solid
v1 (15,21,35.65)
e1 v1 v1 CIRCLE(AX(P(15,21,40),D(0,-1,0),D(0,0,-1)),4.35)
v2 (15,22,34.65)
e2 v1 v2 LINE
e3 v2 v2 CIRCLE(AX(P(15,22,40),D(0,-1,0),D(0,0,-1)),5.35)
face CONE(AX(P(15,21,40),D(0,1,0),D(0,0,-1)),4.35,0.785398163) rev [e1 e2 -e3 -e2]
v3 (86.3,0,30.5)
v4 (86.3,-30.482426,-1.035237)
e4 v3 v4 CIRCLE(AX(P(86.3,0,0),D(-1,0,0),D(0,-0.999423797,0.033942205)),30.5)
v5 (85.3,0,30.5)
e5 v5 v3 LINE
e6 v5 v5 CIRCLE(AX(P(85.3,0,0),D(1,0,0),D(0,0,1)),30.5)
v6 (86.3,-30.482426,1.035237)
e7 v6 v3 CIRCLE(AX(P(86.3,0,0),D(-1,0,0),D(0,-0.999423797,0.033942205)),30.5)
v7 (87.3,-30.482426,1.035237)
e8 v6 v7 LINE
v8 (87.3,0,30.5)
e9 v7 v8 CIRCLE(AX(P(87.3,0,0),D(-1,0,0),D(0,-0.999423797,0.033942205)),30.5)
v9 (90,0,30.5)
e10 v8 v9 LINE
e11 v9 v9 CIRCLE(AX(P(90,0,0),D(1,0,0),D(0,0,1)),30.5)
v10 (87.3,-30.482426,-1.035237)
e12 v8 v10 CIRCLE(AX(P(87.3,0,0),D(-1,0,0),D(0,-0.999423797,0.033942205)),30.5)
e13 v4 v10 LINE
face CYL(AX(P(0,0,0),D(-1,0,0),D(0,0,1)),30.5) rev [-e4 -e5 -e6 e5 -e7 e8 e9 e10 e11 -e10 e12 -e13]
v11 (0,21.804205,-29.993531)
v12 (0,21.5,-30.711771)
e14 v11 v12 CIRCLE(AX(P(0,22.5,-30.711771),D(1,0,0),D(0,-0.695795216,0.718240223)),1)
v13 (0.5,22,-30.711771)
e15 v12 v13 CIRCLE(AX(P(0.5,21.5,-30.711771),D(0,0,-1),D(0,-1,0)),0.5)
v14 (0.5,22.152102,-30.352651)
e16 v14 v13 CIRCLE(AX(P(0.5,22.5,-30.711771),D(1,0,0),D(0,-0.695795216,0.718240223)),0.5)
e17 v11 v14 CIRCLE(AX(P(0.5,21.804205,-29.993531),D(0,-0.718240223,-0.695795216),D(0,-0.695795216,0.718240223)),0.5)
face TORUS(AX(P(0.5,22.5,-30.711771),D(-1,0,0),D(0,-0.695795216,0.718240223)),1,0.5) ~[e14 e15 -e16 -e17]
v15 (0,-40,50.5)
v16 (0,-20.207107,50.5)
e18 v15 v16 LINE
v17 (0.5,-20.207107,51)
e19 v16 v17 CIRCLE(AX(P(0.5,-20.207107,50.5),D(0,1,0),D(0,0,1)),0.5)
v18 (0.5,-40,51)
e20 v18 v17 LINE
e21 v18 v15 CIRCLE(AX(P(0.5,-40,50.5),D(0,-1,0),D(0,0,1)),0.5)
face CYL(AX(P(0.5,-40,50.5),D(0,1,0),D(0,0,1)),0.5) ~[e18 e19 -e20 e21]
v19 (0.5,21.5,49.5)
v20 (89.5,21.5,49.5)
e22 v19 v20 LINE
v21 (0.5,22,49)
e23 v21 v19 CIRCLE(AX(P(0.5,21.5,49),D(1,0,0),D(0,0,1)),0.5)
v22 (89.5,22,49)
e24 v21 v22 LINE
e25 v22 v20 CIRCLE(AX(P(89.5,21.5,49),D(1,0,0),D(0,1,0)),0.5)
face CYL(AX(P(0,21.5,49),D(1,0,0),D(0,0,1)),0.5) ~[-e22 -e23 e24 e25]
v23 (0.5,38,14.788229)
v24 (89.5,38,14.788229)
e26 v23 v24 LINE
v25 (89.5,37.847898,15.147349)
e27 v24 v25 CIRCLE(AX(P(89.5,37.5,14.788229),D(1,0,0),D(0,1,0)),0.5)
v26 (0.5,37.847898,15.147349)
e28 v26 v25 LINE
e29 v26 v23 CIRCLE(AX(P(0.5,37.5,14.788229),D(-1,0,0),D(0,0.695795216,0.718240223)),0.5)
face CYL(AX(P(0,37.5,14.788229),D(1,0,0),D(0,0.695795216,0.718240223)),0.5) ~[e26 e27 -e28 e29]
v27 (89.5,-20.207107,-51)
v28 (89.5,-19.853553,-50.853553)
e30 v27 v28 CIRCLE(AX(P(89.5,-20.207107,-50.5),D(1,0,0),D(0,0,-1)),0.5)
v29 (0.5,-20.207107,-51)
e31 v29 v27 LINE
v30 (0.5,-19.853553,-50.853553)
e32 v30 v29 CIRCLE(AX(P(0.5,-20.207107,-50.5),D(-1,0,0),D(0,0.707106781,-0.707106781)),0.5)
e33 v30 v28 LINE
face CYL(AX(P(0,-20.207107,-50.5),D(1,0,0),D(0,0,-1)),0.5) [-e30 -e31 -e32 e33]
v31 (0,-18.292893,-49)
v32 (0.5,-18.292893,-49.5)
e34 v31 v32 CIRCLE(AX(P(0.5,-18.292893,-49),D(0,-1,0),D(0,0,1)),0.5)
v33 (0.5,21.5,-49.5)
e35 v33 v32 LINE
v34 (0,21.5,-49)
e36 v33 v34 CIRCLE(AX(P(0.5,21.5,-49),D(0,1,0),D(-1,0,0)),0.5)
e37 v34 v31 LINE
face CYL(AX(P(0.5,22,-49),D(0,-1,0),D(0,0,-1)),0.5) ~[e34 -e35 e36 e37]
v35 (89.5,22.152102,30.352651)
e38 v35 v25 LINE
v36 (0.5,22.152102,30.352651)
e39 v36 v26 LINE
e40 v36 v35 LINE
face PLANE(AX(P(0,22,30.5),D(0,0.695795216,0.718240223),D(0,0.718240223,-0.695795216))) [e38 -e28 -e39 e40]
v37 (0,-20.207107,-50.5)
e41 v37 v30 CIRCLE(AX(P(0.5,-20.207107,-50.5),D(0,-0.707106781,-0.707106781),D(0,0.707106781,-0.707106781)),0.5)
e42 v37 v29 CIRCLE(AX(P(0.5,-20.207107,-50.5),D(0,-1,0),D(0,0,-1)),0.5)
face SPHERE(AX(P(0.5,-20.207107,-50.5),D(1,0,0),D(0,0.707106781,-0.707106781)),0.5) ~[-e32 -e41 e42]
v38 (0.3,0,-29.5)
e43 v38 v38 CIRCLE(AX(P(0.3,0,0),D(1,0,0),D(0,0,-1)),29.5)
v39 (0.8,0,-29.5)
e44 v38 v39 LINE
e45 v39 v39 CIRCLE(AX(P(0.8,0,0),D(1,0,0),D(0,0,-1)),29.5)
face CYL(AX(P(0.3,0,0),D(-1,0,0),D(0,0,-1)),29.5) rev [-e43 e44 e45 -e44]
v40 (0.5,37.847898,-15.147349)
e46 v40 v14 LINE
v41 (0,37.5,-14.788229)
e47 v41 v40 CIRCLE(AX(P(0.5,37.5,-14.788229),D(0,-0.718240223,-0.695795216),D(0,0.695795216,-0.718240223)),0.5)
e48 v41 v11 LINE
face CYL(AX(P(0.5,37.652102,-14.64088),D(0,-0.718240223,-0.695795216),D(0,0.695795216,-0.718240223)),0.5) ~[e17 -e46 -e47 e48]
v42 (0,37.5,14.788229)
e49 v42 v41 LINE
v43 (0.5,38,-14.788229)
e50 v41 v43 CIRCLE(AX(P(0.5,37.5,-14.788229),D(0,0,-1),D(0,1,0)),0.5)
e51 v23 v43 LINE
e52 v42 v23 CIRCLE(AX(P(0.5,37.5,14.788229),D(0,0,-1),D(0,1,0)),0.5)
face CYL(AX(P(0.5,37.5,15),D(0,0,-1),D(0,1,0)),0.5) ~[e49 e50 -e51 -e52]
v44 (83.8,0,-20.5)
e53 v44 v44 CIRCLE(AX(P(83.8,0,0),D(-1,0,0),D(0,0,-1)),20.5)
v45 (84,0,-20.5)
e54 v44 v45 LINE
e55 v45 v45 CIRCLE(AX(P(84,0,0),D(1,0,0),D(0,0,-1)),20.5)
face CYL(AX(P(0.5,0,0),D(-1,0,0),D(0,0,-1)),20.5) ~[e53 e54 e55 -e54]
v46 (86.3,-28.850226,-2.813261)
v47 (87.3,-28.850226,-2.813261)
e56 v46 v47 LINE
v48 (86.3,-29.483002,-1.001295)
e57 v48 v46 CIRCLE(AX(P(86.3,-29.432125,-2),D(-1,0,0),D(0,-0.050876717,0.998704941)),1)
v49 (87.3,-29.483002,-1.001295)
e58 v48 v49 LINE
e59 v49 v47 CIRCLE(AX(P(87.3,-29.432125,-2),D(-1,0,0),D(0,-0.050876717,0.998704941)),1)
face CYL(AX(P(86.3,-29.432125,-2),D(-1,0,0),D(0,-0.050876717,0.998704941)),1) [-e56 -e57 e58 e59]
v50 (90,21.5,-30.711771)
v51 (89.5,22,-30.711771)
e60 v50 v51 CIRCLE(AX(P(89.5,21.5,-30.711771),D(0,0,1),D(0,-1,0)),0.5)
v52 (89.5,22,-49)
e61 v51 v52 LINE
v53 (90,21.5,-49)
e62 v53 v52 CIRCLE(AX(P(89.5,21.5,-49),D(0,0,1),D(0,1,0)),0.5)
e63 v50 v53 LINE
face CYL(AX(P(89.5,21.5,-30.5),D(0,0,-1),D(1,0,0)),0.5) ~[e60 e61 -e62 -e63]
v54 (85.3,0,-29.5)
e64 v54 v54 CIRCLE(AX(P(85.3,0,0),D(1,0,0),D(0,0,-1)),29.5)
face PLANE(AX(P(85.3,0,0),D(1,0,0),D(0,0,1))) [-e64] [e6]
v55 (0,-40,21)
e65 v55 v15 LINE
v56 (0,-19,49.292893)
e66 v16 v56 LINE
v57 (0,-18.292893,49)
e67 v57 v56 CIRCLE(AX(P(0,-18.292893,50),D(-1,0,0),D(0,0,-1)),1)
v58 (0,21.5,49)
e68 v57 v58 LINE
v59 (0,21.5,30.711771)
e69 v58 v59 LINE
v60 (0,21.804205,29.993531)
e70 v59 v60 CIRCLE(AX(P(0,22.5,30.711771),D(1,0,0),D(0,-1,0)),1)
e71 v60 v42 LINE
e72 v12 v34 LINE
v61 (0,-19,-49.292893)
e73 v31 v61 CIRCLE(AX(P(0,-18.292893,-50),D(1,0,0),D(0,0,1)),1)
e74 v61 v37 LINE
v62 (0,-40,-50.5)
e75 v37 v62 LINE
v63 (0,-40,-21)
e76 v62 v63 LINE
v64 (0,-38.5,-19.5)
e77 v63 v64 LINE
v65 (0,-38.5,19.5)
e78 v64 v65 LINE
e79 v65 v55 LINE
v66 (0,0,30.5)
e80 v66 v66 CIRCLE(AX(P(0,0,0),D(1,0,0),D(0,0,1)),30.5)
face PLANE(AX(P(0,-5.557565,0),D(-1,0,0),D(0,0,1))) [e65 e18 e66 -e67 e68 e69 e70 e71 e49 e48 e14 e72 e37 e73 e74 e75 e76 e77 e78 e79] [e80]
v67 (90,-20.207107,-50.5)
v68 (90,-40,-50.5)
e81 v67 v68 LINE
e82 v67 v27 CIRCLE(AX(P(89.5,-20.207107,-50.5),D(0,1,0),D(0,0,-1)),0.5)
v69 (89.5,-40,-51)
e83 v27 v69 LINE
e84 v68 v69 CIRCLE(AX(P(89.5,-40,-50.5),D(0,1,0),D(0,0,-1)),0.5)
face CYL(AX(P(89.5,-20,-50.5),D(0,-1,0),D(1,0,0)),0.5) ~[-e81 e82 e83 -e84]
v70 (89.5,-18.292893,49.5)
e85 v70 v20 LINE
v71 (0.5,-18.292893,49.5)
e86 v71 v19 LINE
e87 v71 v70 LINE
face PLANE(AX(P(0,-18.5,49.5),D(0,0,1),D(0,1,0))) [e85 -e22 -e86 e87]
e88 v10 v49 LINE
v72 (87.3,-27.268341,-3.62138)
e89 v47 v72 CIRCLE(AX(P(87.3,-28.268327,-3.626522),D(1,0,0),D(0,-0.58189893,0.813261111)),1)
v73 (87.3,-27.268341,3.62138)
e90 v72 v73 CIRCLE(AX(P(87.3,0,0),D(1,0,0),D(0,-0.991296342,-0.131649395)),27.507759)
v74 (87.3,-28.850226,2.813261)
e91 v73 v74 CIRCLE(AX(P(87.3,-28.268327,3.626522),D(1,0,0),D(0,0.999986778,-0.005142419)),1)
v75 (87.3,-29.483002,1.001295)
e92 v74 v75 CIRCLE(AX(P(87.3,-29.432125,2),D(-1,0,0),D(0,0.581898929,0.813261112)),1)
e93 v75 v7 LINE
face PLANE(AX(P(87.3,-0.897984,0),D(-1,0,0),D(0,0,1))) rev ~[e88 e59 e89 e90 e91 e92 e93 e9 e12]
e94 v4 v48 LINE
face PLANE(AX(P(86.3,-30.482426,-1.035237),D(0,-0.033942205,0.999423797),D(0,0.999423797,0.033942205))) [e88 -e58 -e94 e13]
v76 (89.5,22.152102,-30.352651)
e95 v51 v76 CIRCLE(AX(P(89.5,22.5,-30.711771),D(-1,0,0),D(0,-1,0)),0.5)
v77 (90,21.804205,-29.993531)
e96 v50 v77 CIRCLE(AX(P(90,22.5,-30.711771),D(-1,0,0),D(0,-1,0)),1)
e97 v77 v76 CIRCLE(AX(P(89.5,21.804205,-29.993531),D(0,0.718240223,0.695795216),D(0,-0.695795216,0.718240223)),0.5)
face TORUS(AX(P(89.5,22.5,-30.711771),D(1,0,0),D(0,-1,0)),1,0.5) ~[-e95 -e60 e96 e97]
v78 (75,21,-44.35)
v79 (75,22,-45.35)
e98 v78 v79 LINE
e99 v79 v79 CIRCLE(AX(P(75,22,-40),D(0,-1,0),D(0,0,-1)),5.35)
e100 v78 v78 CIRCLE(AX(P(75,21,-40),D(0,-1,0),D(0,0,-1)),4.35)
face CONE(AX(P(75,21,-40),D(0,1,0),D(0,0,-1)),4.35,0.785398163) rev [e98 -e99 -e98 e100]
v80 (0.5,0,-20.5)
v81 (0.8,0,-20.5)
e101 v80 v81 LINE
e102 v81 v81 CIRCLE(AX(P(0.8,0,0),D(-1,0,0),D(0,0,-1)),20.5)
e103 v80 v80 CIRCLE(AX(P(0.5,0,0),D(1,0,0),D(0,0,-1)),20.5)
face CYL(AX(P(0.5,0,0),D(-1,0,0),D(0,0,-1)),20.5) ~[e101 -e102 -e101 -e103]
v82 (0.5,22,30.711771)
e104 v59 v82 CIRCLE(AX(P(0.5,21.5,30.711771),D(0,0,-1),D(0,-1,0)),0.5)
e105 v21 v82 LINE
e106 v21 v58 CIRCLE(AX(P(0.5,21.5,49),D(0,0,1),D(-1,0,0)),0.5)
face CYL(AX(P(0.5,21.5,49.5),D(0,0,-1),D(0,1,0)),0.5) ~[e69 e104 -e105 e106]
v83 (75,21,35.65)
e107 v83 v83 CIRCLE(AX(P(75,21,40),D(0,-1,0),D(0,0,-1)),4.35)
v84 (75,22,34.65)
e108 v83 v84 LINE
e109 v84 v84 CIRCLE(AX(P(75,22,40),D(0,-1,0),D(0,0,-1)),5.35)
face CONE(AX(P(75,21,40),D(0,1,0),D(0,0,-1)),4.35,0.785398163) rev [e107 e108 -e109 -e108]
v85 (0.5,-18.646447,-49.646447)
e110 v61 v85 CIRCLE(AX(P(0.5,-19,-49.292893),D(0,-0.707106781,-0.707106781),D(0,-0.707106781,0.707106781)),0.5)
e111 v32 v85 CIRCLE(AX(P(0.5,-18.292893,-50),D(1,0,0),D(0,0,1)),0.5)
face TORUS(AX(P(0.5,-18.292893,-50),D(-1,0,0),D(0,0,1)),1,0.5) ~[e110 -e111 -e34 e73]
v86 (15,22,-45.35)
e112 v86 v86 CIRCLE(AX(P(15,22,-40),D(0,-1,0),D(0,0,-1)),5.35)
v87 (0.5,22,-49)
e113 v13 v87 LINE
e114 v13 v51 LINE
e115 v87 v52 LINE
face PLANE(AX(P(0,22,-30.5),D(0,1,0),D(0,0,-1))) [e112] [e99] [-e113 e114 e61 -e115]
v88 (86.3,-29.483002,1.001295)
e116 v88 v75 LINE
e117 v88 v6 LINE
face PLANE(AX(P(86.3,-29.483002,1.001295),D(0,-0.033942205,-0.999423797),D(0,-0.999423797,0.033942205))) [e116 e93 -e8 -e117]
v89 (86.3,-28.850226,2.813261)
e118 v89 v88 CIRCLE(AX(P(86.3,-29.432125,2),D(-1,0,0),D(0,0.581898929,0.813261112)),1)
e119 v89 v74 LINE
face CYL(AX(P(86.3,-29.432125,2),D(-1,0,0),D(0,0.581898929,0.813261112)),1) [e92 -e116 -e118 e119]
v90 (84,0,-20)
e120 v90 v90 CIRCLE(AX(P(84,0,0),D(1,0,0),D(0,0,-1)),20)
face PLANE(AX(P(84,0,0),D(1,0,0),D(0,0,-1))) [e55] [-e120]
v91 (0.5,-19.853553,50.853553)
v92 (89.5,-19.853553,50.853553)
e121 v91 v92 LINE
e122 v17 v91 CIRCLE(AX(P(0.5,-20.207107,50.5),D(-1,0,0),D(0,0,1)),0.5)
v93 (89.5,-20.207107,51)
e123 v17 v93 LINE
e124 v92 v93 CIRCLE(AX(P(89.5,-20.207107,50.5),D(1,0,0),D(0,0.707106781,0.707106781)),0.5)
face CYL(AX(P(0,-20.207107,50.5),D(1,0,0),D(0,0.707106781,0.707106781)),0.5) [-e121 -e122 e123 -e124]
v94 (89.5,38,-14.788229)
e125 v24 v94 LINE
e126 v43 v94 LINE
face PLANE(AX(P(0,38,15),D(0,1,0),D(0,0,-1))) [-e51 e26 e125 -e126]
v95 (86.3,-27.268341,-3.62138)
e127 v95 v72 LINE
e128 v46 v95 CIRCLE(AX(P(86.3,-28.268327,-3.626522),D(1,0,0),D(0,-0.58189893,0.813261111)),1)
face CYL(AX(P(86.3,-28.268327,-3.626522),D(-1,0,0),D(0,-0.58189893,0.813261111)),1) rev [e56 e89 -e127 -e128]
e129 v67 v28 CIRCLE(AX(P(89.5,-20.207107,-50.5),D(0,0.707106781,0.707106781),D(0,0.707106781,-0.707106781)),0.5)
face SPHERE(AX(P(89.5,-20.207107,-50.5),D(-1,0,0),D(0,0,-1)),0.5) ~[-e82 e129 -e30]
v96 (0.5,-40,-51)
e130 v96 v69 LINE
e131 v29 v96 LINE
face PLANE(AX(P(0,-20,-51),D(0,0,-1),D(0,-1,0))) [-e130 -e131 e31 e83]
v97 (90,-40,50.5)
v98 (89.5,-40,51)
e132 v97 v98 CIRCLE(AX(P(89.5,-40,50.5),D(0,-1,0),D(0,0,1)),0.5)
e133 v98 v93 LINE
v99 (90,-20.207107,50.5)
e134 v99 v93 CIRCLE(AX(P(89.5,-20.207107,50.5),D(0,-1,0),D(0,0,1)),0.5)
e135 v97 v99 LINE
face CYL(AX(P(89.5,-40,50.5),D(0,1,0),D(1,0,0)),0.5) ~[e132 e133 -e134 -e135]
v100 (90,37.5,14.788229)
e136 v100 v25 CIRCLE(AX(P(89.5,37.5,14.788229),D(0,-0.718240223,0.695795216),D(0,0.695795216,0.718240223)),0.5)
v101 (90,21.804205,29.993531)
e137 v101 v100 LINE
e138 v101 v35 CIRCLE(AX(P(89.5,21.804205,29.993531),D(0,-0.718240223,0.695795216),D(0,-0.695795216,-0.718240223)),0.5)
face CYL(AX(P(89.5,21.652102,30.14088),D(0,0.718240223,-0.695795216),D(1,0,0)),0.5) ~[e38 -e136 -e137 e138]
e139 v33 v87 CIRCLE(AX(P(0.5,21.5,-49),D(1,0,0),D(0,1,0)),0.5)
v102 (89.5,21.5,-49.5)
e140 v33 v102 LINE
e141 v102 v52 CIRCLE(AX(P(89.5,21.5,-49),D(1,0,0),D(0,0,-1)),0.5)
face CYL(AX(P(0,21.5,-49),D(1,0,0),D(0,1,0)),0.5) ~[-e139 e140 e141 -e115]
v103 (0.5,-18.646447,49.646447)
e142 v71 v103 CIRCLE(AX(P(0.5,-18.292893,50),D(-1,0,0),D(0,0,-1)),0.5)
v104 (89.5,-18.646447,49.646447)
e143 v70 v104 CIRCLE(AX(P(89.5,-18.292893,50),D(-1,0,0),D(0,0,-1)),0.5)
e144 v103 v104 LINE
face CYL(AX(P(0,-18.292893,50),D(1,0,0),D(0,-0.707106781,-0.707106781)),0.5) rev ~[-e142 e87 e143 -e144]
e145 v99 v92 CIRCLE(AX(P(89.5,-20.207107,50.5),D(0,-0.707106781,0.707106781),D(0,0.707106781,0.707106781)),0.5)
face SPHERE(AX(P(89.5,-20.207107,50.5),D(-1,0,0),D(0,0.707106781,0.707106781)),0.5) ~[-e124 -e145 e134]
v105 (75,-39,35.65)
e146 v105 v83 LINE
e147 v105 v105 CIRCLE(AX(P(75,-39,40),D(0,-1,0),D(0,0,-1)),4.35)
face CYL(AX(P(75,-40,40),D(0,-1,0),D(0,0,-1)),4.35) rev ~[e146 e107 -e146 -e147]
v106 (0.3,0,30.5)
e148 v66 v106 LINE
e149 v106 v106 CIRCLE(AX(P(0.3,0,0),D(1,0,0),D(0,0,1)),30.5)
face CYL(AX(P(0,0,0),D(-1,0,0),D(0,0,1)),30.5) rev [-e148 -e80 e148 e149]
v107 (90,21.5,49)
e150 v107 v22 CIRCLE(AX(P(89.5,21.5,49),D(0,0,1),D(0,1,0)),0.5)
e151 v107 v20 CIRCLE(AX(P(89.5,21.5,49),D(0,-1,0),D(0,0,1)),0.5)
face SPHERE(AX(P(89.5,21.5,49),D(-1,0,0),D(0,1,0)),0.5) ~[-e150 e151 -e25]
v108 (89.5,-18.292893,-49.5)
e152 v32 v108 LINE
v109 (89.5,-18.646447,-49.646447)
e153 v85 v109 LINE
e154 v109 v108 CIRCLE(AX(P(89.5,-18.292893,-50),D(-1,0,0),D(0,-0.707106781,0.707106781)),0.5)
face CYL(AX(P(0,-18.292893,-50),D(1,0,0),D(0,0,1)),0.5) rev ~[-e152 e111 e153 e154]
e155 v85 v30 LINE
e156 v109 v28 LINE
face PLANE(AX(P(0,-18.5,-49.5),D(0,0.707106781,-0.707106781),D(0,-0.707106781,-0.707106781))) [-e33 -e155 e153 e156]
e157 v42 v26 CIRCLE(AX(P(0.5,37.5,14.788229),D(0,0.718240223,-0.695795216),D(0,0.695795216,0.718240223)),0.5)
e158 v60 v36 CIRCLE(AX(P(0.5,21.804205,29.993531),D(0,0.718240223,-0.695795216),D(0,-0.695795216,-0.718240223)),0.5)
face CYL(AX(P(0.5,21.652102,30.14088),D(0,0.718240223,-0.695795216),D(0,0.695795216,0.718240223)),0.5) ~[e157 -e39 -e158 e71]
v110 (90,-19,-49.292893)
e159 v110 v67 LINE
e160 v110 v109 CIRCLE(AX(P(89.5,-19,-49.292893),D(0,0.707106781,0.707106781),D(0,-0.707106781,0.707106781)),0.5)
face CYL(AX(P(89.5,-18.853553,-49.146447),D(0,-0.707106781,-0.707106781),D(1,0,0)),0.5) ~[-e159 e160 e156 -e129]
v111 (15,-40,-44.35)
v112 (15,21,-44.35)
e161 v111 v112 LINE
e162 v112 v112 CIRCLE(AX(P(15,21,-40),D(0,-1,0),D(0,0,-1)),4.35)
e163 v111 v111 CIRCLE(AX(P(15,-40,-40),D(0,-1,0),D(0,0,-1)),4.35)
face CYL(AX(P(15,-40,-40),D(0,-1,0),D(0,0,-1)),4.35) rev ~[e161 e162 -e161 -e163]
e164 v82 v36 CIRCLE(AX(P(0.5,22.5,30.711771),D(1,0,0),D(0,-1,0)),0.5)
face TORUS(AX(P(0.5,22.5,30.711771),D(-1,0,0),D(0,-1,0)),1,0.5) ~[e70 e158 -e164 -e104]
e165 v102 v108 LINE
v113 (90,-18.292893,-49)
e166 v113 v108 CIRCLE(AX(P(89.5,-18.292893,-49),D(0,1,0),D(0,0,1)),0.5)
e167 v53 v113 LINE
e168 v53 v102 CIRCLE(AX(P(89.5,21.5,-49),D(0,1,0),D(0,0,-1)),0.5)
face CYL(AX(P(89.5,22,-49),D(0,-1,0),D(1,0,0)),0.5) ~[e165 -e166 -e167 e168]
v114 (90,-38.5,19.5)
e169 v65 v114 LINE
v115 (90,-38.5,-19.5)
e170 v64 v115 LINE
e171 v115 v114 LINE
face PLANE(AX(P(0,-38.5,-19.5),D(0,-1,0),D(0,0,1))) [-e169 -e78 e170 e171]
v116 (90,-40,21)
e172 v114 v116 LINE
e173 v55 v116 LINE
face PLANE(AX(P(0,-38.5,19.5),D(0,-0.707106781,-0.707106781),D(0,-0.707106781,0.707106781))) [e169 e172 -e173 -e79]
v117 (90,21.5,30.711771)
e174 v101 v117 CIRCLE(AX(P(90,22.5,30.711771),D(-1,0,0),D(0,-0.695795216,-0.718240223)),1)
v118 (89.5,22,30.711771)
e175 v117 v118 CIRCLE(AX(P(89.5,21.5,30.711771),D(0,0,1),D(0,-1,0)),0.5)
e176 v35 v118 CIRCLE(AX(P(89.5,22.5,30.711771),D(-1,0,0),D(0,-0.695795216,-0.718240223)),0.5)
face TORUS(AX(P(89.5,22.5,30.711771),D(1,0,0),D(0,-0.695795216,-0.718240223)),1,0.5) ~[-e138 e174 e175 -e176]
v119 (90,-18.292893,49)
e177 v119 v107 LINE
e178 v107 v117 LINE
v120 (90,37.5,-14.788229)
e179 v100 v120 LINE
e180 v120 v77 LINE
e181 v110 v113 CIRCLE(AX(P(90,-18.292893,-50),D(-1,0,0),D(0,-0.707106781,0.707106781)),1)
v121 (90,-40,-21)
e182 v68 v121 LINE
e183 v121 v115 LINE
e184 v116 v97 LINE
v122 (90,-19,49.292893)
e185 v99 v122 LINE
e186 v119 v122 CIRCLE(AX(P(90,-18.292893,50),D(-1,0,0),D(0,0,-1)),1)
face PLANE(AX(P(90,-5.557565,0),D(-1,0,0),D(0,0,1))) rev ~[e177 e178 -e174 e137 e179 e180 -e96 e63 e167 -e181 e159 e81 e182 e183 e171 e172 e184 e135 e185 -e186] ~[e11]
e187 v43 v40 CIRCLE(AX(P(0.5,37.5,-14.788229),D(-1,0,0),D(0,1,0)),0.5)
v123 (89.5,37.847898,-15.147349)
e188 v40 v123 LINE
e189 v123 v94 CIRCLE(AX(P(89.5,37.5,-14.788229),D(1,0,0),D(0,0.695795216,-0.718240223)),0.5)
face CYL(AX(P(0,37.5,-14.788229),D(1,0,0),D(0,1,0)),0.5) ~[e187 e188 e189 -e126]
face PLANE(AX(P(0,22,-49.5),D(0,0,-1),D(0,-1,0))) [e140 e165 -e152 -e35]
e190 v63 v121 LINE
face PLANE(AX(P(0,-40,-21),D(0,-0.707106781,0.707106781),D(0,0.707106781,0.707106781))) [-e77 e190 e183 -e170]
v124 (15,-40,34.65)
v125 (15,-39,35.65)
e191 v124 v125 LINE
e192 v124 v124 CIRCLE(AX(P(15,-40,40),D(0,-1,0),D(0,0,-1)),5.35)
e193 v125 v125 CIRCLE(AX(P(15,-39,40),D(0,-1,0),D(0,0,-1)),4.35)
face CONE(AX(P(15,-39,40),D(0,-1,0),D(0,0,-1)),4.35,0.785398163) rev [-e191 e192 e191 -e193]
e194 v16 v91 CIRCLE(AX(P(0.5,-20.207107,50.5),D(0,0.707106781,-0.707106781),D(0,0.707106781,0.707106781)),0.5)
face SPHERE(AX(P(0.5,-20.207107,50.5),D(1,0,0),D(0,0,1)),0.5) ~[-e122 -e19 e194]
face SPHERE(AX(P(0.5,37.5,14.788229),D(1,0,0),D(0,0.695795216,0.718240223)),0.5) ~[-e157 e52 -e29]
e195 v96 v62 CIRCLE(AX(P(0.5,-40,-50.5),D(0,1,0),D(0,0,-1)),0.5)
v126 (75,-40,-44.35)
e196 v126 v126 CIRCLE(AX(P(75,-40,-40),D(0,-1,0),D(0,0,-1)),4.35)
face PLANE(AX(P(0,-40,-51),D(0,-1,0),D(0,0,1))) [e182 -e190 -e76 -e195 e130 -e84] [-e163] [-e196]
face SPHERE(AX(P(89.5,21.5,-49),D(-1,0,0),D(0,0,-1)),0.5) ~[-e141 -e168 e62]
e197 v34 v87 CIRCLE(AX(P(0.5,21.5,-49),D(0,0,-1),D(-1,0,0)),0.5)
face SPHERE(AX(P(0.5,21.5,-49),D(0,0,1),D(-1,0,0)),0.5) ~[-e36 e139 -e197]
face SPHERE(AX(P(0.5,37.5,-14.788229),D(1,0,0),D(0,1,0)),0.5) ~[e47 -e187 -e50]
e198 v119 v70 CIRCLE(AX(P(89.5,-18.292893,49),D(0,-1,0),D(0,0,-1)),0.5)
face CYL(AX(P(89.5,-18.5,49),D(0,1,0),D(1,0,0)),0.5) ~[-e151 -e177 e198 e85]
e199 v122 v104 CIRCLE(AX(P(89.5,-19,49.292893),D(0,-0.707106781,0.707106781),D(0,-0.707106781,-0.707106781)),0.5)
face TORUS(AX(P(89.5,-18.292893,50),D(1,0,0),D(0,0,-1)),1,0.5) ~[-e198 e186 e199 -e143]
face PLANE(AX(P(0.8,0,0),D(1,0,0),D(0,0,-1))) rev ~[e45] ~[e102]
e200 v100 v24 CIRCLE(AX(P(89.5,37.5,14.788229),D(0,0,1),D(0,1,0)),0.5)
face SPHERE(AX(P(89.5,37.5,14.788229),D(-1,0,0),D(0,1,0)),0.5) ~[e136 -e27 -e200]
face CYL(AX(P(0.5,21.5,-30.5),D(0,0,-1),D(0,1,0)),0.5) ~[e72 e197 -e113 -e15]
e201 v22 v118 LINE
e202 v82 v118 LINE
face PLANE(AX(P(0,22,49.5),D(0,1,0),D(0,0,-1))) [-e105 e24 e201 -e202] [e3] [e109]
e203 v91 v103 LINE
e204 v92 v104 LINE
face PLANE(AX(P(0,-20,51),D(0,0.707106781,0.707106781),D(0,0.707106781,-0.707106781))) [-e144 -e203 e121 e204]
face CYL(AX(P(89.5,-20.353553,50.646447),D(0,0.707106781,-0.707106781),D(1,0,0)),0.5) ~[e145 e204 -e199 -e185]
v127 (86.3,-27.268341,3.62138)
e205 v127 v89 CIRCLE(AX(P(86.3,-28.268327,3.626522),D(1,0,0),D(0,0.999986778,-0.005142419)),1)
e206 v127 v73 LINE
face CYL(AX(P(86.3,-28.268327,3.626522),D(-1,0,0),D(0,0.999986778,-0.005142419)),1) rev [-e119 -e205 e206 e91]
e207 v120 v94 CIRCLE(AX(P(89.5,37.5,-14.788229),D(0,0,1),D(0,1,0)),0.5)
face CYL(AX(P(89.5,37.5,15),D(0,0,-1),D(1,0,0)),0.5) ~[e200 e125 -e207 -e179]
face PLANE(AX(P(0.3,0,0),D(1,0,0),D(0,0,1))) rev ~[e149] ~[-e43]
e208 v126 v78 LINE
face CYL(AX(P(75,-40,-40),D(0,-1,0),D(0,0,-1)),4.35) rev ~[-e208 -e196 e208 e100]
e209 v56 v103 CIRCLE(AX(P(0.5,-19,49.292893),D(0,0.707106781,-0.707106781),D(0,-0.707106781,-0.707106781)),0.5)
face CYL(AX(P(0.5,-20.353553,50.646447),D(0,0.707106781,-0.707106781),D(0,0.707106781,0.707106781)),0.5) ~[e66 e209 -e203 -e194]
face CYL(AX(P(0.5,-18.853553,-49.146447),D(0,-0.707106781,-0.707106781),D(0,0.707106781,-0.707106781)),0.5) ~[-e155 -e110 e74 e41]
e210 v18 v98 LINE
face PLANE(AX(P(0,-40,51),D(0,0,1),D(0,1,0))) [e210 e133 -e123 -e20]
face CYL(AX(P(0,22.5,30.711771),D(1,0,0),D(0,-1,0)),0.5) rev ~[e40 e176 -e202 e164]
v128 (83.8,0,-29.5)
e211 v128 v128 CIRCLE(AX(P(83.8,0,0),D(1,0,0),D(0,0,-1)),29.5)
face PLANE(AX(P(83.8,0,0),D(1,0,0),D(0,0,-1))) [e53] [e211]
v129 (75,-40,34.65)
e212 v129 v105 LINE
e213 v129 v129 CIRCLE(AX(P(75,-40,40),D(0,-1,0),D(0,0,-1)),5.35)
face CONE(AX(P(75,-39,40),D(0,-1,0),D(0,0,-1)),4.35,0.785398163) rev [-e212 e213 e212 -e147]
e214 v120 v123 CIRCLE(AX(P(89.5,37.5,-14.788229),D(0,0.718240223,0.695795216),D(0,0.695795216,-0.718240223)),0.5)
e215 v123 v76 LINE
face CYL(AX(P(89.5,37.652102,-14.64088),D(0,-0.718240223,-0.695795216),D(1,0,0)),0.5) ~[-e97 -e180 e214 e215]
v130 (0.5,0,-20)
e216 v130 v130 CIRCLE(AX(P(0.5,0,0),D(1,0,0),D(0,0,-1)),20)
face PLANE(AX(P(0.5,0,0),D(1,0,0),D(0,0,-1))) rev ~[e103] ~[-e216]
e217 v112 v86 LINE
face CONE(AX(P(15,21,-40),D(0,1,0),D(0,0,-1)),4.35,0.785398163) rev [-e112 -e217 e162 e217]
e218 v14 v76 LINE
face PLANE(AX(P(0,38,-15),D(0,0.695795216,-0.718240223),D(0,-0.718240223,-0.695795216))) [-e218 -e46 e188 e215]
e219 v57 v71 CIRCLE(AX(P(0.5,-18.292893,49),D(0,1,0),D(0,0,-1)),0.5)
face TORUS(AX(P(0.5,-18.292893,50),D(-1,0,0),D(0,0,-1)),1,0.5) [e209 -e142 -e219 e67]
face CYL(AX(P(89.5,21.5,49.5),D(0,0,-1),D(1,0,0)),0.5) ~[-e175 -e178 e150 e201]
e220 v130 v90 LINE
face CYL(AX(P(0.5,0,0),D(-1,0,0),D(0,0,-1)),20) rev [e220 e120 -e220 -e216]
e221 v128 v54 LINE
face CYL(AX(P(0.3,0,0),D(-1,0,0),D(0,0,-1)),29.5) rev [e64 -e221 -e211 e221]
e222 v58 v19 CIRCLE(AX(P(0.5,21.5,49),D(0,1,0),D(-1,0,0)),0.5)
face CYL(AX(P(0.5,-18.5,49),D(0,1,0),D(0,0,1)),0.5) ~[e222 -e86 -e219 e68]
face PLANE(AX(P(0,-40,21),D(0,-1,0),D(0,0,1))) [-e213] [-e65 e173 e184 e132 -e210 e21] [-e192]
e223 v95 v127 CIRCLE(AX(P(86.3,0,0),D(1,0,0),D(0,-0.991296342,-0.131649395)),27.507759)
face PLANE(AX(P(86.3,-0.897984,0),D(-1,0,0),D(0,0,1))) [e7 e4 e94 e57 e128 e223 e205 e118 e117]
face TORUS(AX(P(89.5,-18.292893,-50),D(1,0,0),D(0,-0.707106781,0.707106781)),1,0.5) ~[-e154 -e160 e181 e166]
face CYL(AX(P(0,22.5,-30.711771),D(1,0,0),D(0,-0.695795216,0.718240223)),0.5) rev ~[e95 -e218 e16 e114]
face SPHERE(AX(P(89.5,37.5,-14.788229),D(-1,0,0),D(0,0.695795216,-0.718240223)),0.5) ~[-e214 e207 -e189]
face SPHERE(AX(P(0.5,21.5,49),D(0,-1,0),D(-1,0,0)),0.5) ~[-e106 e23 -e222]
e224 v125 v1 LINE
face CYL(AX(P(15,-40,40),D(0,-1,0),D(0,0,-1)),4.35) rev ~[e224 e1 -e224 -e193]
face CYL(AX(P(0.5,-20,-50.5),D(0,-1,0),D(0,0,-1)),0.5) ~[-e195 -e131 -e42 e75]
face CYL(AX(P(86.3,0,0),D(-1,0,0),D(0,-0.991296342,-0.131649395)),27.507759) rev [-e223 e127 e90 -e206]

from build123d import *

# Parameters (mm, degrees)
SKETCH1_R           = 30.5
BOSS_EXTRUDE1_DEPTH = 90
EXTRUDE_THIN1_START = 0.5
SKETCH1_4_R         = 20.5
SKETCH1_4_R_2       = 20
EXTRUDE_THIN1_DEPTH = 83.5
BOSS_EXTRUDE2_START = 0.8
SKETCH1_5_R         = 29.5
SKETCH1_5_R_2       = 20
BOSS_EXTRUDE2_DEPTH = 83
BOSS_EXTRUDE3_START = 0.3
SKETCH1_6_R         = 30.5
SKETCH1_6_R_2       = 29.5
BOSS_EXTRUDE3_DEPTH = 85
BOSS_EXTRUDE4_START = 1
BOSS_EXTRUDE4_DEPTH = 1
FILLET1_R           = 0.5
SKETCH4_R           = 4.35
CUT_EXTRUDE3_DEPTH  = 130.55693729
CHAMFER1_SIZE       = 1


with BuildPart() as part:
    # Sketch1 → Boss-Extrude1 (new body)
    with BuildSketch(Plane(origin=(0, 0, 0), x_dir=(0, 0, -1), z_dir=(1, 0, 0))):
        Polygon((-51, -40), (-21, -40), (-19.5, -38.5), (19.5, -38.5), (21, -40), (51, -40), (51, -20), (49.5, -18.5), (49.5, 22), (30.5, 22), (15, 38), (-15, 38), (-30.5, 22), (-49.5, 22), (-49.5, -18.5), (-51, -20), align=None)
        Circle(SKETCH1_R, mode=Mode.SUBTRACT)
    extrude(amount=BOSS_EXTRUDE1_DEPTH)



with BuildPart() as body_2:
    # Sketch1<4> → Extrude-Thin1 (new body)
    with BuildSketch(Plane(origin=(0, 0, 0), x_dir=(0, 0, -1), z_dir=(1, 0, 0)).offset(EXTRUDE_THIN1_START)):
        Circle(SKETCH1_4_R)
        Circle(SKETCH1_4_R_2, mode=Mode.SUBTRACT)
    extrude(amount=EXTRUDE_THIN1_DEPTH)

    # Sketch1<5> → Boss-Extrude2 (add)
    with BuildSketch(Plane(origin=(0, 0, 0), x_dir=(0, 0, -1), z_dir=(1, 0, 0)).offset(BOSS_EXTRUDE2_START)):
        Circle(SKETCH1_5_R)
        Circle(SKETCH1_5_R_2, mode=Mode.SUBTRACT)
    extrude(amount=BOSS_EXTRUDE2_DEPTH)


with BuildPart() as part_1:
    add(part.part)

    add(body_2.part)  # Boss-Extrude3 merges body 2
    # Sketch1<6> → Boss-Extrude3 (add)
    with BuildSketch(Plane(origin=(0, 0, 0), x_dir=(0, 0, -1), z_dir=(1, 0, 0)).offset(BOSS_EXTRUDE3_START)):
        Circle(SKETCH1_6_R)
        Circle(SKETCH1_6_R_2, mode=Mode.SUBTRACT)
    extrude(amount=BOSS_EXTRUDE3_DEPTH)

    # Sketch3 → Boss-Extrude4 (add)
    with BuildSketch(Plane(origin=(85.3, 0, 0), x_dir=(0, 0, -1), z_dir=(1, 0, 0)).offset(BOSS_EXTRUDE4_START)):
        with BuildLine():
            Line((-1.001295059, -29.483002022), (-1.035237264, -30.482425819))
            ThreePointArc((-1.035237264, -30.482425819), (0, 30.5), (1.035237264, -30.482425819))
            Line((1.035237264, -30.482425819), (1.001295059, -29.483002022))
            ThreePointArc((1.001295059, -29.483002022), (1.67030528, -28.488037708), (2.813261111, -28.850226376))
            ThreePointArc((2.813261111, -28.850226376), (4.517048294, -28.723259657), (3.621379804, -27.268340668))
            ThreePointArc((3.621379804, -27.268340668), (0, 27.507758805), (-3.621379804, -27.268340668))
            ThreePointArc((-3.621379804, -27.268340668), (-4.517048294, -28.723259657), (-2.813261111, -28.850226376))
            ThreePointArc((-2.813261111, -28.850226376), (-1.67030528, -28.488037708), (-1.001295059, -29.483002022))
        make_face()
    extrude(amount=BOSS_EXTRUDE4_DEPTH)

    # Fillet1
    fillet1_edges = [part_1.edges().sort_by_distance(p)[0] for p in [
        (45, -18.5, -49.5),
        (45, -18.5, 49.5),
        (45, -20, 51),
        (45, -20, -51),
        (45, 22, -30.5),
        (45, 22, 30.5),
        (45, 38, 15),
        (45, 38, -15),
        (45, 22, -49.5),
        (45, 22, 49.5),
        (90, 30, -22.75),
        (90, 30, 22.75),
        (90, 1.75, 49.5),
        (0, -19.25, 50.25),
        (0, 30, 22.75),
        (90, -19.25, -50.25),
        (90, -30, -51),
        (90, 1.75, -49.5),
        (90, 38, 0),
        (90, 22, -40),
        (90, 22, 40),
        (90, -19.25, 50.25),
        (90, -30, 51),
        (0, -30, -51),
        (0, -19.25, -50.25),
        (0, 1.75, -49.5),
        (0, 30, -22.75),
        (0, 22, -40),
        (0, 38, 0),
        (0, -30, 51),
        (0, 1.75, 49.5),
        (0, 22, 40),
    ]]
    fillet(fillet1_edges, radius=FILLET1_R)

    # Sketch4 → Cut-Extrude3 (cut, through all)
    with BuildSketch(Plane.XZ.offset(40)):
        with Locations((15, 40)):
            Circle(SKETCH4_R)
        with Locations((75, 40)):
            Circle(SKETCH4_R)
        with Locations((75, -40)):
            Circle(SKETCH4_R)
        with Locations((15, -40)):
            Circle(SKETCH4_R)
    extrude(amount=-CUT_EXTRUDE3_DEPTH, mode=Mode.SUBTRACT)

    # Chamfer1
    chamfer1_edges = [part_1.edges().sort_by_distance(p)[0] for p in [
        (70.65, 22, -40),
        (10.65, 22, -40),
        (10.65, 22, 40),
        (70.65, 22, 40),
        (70.65, -40, 40),
        (10.65, -40, 40),
    ]]
    chamfer(chamfer1_edges, length=CHAMFER1_SIZE)


solid = part_1.part
